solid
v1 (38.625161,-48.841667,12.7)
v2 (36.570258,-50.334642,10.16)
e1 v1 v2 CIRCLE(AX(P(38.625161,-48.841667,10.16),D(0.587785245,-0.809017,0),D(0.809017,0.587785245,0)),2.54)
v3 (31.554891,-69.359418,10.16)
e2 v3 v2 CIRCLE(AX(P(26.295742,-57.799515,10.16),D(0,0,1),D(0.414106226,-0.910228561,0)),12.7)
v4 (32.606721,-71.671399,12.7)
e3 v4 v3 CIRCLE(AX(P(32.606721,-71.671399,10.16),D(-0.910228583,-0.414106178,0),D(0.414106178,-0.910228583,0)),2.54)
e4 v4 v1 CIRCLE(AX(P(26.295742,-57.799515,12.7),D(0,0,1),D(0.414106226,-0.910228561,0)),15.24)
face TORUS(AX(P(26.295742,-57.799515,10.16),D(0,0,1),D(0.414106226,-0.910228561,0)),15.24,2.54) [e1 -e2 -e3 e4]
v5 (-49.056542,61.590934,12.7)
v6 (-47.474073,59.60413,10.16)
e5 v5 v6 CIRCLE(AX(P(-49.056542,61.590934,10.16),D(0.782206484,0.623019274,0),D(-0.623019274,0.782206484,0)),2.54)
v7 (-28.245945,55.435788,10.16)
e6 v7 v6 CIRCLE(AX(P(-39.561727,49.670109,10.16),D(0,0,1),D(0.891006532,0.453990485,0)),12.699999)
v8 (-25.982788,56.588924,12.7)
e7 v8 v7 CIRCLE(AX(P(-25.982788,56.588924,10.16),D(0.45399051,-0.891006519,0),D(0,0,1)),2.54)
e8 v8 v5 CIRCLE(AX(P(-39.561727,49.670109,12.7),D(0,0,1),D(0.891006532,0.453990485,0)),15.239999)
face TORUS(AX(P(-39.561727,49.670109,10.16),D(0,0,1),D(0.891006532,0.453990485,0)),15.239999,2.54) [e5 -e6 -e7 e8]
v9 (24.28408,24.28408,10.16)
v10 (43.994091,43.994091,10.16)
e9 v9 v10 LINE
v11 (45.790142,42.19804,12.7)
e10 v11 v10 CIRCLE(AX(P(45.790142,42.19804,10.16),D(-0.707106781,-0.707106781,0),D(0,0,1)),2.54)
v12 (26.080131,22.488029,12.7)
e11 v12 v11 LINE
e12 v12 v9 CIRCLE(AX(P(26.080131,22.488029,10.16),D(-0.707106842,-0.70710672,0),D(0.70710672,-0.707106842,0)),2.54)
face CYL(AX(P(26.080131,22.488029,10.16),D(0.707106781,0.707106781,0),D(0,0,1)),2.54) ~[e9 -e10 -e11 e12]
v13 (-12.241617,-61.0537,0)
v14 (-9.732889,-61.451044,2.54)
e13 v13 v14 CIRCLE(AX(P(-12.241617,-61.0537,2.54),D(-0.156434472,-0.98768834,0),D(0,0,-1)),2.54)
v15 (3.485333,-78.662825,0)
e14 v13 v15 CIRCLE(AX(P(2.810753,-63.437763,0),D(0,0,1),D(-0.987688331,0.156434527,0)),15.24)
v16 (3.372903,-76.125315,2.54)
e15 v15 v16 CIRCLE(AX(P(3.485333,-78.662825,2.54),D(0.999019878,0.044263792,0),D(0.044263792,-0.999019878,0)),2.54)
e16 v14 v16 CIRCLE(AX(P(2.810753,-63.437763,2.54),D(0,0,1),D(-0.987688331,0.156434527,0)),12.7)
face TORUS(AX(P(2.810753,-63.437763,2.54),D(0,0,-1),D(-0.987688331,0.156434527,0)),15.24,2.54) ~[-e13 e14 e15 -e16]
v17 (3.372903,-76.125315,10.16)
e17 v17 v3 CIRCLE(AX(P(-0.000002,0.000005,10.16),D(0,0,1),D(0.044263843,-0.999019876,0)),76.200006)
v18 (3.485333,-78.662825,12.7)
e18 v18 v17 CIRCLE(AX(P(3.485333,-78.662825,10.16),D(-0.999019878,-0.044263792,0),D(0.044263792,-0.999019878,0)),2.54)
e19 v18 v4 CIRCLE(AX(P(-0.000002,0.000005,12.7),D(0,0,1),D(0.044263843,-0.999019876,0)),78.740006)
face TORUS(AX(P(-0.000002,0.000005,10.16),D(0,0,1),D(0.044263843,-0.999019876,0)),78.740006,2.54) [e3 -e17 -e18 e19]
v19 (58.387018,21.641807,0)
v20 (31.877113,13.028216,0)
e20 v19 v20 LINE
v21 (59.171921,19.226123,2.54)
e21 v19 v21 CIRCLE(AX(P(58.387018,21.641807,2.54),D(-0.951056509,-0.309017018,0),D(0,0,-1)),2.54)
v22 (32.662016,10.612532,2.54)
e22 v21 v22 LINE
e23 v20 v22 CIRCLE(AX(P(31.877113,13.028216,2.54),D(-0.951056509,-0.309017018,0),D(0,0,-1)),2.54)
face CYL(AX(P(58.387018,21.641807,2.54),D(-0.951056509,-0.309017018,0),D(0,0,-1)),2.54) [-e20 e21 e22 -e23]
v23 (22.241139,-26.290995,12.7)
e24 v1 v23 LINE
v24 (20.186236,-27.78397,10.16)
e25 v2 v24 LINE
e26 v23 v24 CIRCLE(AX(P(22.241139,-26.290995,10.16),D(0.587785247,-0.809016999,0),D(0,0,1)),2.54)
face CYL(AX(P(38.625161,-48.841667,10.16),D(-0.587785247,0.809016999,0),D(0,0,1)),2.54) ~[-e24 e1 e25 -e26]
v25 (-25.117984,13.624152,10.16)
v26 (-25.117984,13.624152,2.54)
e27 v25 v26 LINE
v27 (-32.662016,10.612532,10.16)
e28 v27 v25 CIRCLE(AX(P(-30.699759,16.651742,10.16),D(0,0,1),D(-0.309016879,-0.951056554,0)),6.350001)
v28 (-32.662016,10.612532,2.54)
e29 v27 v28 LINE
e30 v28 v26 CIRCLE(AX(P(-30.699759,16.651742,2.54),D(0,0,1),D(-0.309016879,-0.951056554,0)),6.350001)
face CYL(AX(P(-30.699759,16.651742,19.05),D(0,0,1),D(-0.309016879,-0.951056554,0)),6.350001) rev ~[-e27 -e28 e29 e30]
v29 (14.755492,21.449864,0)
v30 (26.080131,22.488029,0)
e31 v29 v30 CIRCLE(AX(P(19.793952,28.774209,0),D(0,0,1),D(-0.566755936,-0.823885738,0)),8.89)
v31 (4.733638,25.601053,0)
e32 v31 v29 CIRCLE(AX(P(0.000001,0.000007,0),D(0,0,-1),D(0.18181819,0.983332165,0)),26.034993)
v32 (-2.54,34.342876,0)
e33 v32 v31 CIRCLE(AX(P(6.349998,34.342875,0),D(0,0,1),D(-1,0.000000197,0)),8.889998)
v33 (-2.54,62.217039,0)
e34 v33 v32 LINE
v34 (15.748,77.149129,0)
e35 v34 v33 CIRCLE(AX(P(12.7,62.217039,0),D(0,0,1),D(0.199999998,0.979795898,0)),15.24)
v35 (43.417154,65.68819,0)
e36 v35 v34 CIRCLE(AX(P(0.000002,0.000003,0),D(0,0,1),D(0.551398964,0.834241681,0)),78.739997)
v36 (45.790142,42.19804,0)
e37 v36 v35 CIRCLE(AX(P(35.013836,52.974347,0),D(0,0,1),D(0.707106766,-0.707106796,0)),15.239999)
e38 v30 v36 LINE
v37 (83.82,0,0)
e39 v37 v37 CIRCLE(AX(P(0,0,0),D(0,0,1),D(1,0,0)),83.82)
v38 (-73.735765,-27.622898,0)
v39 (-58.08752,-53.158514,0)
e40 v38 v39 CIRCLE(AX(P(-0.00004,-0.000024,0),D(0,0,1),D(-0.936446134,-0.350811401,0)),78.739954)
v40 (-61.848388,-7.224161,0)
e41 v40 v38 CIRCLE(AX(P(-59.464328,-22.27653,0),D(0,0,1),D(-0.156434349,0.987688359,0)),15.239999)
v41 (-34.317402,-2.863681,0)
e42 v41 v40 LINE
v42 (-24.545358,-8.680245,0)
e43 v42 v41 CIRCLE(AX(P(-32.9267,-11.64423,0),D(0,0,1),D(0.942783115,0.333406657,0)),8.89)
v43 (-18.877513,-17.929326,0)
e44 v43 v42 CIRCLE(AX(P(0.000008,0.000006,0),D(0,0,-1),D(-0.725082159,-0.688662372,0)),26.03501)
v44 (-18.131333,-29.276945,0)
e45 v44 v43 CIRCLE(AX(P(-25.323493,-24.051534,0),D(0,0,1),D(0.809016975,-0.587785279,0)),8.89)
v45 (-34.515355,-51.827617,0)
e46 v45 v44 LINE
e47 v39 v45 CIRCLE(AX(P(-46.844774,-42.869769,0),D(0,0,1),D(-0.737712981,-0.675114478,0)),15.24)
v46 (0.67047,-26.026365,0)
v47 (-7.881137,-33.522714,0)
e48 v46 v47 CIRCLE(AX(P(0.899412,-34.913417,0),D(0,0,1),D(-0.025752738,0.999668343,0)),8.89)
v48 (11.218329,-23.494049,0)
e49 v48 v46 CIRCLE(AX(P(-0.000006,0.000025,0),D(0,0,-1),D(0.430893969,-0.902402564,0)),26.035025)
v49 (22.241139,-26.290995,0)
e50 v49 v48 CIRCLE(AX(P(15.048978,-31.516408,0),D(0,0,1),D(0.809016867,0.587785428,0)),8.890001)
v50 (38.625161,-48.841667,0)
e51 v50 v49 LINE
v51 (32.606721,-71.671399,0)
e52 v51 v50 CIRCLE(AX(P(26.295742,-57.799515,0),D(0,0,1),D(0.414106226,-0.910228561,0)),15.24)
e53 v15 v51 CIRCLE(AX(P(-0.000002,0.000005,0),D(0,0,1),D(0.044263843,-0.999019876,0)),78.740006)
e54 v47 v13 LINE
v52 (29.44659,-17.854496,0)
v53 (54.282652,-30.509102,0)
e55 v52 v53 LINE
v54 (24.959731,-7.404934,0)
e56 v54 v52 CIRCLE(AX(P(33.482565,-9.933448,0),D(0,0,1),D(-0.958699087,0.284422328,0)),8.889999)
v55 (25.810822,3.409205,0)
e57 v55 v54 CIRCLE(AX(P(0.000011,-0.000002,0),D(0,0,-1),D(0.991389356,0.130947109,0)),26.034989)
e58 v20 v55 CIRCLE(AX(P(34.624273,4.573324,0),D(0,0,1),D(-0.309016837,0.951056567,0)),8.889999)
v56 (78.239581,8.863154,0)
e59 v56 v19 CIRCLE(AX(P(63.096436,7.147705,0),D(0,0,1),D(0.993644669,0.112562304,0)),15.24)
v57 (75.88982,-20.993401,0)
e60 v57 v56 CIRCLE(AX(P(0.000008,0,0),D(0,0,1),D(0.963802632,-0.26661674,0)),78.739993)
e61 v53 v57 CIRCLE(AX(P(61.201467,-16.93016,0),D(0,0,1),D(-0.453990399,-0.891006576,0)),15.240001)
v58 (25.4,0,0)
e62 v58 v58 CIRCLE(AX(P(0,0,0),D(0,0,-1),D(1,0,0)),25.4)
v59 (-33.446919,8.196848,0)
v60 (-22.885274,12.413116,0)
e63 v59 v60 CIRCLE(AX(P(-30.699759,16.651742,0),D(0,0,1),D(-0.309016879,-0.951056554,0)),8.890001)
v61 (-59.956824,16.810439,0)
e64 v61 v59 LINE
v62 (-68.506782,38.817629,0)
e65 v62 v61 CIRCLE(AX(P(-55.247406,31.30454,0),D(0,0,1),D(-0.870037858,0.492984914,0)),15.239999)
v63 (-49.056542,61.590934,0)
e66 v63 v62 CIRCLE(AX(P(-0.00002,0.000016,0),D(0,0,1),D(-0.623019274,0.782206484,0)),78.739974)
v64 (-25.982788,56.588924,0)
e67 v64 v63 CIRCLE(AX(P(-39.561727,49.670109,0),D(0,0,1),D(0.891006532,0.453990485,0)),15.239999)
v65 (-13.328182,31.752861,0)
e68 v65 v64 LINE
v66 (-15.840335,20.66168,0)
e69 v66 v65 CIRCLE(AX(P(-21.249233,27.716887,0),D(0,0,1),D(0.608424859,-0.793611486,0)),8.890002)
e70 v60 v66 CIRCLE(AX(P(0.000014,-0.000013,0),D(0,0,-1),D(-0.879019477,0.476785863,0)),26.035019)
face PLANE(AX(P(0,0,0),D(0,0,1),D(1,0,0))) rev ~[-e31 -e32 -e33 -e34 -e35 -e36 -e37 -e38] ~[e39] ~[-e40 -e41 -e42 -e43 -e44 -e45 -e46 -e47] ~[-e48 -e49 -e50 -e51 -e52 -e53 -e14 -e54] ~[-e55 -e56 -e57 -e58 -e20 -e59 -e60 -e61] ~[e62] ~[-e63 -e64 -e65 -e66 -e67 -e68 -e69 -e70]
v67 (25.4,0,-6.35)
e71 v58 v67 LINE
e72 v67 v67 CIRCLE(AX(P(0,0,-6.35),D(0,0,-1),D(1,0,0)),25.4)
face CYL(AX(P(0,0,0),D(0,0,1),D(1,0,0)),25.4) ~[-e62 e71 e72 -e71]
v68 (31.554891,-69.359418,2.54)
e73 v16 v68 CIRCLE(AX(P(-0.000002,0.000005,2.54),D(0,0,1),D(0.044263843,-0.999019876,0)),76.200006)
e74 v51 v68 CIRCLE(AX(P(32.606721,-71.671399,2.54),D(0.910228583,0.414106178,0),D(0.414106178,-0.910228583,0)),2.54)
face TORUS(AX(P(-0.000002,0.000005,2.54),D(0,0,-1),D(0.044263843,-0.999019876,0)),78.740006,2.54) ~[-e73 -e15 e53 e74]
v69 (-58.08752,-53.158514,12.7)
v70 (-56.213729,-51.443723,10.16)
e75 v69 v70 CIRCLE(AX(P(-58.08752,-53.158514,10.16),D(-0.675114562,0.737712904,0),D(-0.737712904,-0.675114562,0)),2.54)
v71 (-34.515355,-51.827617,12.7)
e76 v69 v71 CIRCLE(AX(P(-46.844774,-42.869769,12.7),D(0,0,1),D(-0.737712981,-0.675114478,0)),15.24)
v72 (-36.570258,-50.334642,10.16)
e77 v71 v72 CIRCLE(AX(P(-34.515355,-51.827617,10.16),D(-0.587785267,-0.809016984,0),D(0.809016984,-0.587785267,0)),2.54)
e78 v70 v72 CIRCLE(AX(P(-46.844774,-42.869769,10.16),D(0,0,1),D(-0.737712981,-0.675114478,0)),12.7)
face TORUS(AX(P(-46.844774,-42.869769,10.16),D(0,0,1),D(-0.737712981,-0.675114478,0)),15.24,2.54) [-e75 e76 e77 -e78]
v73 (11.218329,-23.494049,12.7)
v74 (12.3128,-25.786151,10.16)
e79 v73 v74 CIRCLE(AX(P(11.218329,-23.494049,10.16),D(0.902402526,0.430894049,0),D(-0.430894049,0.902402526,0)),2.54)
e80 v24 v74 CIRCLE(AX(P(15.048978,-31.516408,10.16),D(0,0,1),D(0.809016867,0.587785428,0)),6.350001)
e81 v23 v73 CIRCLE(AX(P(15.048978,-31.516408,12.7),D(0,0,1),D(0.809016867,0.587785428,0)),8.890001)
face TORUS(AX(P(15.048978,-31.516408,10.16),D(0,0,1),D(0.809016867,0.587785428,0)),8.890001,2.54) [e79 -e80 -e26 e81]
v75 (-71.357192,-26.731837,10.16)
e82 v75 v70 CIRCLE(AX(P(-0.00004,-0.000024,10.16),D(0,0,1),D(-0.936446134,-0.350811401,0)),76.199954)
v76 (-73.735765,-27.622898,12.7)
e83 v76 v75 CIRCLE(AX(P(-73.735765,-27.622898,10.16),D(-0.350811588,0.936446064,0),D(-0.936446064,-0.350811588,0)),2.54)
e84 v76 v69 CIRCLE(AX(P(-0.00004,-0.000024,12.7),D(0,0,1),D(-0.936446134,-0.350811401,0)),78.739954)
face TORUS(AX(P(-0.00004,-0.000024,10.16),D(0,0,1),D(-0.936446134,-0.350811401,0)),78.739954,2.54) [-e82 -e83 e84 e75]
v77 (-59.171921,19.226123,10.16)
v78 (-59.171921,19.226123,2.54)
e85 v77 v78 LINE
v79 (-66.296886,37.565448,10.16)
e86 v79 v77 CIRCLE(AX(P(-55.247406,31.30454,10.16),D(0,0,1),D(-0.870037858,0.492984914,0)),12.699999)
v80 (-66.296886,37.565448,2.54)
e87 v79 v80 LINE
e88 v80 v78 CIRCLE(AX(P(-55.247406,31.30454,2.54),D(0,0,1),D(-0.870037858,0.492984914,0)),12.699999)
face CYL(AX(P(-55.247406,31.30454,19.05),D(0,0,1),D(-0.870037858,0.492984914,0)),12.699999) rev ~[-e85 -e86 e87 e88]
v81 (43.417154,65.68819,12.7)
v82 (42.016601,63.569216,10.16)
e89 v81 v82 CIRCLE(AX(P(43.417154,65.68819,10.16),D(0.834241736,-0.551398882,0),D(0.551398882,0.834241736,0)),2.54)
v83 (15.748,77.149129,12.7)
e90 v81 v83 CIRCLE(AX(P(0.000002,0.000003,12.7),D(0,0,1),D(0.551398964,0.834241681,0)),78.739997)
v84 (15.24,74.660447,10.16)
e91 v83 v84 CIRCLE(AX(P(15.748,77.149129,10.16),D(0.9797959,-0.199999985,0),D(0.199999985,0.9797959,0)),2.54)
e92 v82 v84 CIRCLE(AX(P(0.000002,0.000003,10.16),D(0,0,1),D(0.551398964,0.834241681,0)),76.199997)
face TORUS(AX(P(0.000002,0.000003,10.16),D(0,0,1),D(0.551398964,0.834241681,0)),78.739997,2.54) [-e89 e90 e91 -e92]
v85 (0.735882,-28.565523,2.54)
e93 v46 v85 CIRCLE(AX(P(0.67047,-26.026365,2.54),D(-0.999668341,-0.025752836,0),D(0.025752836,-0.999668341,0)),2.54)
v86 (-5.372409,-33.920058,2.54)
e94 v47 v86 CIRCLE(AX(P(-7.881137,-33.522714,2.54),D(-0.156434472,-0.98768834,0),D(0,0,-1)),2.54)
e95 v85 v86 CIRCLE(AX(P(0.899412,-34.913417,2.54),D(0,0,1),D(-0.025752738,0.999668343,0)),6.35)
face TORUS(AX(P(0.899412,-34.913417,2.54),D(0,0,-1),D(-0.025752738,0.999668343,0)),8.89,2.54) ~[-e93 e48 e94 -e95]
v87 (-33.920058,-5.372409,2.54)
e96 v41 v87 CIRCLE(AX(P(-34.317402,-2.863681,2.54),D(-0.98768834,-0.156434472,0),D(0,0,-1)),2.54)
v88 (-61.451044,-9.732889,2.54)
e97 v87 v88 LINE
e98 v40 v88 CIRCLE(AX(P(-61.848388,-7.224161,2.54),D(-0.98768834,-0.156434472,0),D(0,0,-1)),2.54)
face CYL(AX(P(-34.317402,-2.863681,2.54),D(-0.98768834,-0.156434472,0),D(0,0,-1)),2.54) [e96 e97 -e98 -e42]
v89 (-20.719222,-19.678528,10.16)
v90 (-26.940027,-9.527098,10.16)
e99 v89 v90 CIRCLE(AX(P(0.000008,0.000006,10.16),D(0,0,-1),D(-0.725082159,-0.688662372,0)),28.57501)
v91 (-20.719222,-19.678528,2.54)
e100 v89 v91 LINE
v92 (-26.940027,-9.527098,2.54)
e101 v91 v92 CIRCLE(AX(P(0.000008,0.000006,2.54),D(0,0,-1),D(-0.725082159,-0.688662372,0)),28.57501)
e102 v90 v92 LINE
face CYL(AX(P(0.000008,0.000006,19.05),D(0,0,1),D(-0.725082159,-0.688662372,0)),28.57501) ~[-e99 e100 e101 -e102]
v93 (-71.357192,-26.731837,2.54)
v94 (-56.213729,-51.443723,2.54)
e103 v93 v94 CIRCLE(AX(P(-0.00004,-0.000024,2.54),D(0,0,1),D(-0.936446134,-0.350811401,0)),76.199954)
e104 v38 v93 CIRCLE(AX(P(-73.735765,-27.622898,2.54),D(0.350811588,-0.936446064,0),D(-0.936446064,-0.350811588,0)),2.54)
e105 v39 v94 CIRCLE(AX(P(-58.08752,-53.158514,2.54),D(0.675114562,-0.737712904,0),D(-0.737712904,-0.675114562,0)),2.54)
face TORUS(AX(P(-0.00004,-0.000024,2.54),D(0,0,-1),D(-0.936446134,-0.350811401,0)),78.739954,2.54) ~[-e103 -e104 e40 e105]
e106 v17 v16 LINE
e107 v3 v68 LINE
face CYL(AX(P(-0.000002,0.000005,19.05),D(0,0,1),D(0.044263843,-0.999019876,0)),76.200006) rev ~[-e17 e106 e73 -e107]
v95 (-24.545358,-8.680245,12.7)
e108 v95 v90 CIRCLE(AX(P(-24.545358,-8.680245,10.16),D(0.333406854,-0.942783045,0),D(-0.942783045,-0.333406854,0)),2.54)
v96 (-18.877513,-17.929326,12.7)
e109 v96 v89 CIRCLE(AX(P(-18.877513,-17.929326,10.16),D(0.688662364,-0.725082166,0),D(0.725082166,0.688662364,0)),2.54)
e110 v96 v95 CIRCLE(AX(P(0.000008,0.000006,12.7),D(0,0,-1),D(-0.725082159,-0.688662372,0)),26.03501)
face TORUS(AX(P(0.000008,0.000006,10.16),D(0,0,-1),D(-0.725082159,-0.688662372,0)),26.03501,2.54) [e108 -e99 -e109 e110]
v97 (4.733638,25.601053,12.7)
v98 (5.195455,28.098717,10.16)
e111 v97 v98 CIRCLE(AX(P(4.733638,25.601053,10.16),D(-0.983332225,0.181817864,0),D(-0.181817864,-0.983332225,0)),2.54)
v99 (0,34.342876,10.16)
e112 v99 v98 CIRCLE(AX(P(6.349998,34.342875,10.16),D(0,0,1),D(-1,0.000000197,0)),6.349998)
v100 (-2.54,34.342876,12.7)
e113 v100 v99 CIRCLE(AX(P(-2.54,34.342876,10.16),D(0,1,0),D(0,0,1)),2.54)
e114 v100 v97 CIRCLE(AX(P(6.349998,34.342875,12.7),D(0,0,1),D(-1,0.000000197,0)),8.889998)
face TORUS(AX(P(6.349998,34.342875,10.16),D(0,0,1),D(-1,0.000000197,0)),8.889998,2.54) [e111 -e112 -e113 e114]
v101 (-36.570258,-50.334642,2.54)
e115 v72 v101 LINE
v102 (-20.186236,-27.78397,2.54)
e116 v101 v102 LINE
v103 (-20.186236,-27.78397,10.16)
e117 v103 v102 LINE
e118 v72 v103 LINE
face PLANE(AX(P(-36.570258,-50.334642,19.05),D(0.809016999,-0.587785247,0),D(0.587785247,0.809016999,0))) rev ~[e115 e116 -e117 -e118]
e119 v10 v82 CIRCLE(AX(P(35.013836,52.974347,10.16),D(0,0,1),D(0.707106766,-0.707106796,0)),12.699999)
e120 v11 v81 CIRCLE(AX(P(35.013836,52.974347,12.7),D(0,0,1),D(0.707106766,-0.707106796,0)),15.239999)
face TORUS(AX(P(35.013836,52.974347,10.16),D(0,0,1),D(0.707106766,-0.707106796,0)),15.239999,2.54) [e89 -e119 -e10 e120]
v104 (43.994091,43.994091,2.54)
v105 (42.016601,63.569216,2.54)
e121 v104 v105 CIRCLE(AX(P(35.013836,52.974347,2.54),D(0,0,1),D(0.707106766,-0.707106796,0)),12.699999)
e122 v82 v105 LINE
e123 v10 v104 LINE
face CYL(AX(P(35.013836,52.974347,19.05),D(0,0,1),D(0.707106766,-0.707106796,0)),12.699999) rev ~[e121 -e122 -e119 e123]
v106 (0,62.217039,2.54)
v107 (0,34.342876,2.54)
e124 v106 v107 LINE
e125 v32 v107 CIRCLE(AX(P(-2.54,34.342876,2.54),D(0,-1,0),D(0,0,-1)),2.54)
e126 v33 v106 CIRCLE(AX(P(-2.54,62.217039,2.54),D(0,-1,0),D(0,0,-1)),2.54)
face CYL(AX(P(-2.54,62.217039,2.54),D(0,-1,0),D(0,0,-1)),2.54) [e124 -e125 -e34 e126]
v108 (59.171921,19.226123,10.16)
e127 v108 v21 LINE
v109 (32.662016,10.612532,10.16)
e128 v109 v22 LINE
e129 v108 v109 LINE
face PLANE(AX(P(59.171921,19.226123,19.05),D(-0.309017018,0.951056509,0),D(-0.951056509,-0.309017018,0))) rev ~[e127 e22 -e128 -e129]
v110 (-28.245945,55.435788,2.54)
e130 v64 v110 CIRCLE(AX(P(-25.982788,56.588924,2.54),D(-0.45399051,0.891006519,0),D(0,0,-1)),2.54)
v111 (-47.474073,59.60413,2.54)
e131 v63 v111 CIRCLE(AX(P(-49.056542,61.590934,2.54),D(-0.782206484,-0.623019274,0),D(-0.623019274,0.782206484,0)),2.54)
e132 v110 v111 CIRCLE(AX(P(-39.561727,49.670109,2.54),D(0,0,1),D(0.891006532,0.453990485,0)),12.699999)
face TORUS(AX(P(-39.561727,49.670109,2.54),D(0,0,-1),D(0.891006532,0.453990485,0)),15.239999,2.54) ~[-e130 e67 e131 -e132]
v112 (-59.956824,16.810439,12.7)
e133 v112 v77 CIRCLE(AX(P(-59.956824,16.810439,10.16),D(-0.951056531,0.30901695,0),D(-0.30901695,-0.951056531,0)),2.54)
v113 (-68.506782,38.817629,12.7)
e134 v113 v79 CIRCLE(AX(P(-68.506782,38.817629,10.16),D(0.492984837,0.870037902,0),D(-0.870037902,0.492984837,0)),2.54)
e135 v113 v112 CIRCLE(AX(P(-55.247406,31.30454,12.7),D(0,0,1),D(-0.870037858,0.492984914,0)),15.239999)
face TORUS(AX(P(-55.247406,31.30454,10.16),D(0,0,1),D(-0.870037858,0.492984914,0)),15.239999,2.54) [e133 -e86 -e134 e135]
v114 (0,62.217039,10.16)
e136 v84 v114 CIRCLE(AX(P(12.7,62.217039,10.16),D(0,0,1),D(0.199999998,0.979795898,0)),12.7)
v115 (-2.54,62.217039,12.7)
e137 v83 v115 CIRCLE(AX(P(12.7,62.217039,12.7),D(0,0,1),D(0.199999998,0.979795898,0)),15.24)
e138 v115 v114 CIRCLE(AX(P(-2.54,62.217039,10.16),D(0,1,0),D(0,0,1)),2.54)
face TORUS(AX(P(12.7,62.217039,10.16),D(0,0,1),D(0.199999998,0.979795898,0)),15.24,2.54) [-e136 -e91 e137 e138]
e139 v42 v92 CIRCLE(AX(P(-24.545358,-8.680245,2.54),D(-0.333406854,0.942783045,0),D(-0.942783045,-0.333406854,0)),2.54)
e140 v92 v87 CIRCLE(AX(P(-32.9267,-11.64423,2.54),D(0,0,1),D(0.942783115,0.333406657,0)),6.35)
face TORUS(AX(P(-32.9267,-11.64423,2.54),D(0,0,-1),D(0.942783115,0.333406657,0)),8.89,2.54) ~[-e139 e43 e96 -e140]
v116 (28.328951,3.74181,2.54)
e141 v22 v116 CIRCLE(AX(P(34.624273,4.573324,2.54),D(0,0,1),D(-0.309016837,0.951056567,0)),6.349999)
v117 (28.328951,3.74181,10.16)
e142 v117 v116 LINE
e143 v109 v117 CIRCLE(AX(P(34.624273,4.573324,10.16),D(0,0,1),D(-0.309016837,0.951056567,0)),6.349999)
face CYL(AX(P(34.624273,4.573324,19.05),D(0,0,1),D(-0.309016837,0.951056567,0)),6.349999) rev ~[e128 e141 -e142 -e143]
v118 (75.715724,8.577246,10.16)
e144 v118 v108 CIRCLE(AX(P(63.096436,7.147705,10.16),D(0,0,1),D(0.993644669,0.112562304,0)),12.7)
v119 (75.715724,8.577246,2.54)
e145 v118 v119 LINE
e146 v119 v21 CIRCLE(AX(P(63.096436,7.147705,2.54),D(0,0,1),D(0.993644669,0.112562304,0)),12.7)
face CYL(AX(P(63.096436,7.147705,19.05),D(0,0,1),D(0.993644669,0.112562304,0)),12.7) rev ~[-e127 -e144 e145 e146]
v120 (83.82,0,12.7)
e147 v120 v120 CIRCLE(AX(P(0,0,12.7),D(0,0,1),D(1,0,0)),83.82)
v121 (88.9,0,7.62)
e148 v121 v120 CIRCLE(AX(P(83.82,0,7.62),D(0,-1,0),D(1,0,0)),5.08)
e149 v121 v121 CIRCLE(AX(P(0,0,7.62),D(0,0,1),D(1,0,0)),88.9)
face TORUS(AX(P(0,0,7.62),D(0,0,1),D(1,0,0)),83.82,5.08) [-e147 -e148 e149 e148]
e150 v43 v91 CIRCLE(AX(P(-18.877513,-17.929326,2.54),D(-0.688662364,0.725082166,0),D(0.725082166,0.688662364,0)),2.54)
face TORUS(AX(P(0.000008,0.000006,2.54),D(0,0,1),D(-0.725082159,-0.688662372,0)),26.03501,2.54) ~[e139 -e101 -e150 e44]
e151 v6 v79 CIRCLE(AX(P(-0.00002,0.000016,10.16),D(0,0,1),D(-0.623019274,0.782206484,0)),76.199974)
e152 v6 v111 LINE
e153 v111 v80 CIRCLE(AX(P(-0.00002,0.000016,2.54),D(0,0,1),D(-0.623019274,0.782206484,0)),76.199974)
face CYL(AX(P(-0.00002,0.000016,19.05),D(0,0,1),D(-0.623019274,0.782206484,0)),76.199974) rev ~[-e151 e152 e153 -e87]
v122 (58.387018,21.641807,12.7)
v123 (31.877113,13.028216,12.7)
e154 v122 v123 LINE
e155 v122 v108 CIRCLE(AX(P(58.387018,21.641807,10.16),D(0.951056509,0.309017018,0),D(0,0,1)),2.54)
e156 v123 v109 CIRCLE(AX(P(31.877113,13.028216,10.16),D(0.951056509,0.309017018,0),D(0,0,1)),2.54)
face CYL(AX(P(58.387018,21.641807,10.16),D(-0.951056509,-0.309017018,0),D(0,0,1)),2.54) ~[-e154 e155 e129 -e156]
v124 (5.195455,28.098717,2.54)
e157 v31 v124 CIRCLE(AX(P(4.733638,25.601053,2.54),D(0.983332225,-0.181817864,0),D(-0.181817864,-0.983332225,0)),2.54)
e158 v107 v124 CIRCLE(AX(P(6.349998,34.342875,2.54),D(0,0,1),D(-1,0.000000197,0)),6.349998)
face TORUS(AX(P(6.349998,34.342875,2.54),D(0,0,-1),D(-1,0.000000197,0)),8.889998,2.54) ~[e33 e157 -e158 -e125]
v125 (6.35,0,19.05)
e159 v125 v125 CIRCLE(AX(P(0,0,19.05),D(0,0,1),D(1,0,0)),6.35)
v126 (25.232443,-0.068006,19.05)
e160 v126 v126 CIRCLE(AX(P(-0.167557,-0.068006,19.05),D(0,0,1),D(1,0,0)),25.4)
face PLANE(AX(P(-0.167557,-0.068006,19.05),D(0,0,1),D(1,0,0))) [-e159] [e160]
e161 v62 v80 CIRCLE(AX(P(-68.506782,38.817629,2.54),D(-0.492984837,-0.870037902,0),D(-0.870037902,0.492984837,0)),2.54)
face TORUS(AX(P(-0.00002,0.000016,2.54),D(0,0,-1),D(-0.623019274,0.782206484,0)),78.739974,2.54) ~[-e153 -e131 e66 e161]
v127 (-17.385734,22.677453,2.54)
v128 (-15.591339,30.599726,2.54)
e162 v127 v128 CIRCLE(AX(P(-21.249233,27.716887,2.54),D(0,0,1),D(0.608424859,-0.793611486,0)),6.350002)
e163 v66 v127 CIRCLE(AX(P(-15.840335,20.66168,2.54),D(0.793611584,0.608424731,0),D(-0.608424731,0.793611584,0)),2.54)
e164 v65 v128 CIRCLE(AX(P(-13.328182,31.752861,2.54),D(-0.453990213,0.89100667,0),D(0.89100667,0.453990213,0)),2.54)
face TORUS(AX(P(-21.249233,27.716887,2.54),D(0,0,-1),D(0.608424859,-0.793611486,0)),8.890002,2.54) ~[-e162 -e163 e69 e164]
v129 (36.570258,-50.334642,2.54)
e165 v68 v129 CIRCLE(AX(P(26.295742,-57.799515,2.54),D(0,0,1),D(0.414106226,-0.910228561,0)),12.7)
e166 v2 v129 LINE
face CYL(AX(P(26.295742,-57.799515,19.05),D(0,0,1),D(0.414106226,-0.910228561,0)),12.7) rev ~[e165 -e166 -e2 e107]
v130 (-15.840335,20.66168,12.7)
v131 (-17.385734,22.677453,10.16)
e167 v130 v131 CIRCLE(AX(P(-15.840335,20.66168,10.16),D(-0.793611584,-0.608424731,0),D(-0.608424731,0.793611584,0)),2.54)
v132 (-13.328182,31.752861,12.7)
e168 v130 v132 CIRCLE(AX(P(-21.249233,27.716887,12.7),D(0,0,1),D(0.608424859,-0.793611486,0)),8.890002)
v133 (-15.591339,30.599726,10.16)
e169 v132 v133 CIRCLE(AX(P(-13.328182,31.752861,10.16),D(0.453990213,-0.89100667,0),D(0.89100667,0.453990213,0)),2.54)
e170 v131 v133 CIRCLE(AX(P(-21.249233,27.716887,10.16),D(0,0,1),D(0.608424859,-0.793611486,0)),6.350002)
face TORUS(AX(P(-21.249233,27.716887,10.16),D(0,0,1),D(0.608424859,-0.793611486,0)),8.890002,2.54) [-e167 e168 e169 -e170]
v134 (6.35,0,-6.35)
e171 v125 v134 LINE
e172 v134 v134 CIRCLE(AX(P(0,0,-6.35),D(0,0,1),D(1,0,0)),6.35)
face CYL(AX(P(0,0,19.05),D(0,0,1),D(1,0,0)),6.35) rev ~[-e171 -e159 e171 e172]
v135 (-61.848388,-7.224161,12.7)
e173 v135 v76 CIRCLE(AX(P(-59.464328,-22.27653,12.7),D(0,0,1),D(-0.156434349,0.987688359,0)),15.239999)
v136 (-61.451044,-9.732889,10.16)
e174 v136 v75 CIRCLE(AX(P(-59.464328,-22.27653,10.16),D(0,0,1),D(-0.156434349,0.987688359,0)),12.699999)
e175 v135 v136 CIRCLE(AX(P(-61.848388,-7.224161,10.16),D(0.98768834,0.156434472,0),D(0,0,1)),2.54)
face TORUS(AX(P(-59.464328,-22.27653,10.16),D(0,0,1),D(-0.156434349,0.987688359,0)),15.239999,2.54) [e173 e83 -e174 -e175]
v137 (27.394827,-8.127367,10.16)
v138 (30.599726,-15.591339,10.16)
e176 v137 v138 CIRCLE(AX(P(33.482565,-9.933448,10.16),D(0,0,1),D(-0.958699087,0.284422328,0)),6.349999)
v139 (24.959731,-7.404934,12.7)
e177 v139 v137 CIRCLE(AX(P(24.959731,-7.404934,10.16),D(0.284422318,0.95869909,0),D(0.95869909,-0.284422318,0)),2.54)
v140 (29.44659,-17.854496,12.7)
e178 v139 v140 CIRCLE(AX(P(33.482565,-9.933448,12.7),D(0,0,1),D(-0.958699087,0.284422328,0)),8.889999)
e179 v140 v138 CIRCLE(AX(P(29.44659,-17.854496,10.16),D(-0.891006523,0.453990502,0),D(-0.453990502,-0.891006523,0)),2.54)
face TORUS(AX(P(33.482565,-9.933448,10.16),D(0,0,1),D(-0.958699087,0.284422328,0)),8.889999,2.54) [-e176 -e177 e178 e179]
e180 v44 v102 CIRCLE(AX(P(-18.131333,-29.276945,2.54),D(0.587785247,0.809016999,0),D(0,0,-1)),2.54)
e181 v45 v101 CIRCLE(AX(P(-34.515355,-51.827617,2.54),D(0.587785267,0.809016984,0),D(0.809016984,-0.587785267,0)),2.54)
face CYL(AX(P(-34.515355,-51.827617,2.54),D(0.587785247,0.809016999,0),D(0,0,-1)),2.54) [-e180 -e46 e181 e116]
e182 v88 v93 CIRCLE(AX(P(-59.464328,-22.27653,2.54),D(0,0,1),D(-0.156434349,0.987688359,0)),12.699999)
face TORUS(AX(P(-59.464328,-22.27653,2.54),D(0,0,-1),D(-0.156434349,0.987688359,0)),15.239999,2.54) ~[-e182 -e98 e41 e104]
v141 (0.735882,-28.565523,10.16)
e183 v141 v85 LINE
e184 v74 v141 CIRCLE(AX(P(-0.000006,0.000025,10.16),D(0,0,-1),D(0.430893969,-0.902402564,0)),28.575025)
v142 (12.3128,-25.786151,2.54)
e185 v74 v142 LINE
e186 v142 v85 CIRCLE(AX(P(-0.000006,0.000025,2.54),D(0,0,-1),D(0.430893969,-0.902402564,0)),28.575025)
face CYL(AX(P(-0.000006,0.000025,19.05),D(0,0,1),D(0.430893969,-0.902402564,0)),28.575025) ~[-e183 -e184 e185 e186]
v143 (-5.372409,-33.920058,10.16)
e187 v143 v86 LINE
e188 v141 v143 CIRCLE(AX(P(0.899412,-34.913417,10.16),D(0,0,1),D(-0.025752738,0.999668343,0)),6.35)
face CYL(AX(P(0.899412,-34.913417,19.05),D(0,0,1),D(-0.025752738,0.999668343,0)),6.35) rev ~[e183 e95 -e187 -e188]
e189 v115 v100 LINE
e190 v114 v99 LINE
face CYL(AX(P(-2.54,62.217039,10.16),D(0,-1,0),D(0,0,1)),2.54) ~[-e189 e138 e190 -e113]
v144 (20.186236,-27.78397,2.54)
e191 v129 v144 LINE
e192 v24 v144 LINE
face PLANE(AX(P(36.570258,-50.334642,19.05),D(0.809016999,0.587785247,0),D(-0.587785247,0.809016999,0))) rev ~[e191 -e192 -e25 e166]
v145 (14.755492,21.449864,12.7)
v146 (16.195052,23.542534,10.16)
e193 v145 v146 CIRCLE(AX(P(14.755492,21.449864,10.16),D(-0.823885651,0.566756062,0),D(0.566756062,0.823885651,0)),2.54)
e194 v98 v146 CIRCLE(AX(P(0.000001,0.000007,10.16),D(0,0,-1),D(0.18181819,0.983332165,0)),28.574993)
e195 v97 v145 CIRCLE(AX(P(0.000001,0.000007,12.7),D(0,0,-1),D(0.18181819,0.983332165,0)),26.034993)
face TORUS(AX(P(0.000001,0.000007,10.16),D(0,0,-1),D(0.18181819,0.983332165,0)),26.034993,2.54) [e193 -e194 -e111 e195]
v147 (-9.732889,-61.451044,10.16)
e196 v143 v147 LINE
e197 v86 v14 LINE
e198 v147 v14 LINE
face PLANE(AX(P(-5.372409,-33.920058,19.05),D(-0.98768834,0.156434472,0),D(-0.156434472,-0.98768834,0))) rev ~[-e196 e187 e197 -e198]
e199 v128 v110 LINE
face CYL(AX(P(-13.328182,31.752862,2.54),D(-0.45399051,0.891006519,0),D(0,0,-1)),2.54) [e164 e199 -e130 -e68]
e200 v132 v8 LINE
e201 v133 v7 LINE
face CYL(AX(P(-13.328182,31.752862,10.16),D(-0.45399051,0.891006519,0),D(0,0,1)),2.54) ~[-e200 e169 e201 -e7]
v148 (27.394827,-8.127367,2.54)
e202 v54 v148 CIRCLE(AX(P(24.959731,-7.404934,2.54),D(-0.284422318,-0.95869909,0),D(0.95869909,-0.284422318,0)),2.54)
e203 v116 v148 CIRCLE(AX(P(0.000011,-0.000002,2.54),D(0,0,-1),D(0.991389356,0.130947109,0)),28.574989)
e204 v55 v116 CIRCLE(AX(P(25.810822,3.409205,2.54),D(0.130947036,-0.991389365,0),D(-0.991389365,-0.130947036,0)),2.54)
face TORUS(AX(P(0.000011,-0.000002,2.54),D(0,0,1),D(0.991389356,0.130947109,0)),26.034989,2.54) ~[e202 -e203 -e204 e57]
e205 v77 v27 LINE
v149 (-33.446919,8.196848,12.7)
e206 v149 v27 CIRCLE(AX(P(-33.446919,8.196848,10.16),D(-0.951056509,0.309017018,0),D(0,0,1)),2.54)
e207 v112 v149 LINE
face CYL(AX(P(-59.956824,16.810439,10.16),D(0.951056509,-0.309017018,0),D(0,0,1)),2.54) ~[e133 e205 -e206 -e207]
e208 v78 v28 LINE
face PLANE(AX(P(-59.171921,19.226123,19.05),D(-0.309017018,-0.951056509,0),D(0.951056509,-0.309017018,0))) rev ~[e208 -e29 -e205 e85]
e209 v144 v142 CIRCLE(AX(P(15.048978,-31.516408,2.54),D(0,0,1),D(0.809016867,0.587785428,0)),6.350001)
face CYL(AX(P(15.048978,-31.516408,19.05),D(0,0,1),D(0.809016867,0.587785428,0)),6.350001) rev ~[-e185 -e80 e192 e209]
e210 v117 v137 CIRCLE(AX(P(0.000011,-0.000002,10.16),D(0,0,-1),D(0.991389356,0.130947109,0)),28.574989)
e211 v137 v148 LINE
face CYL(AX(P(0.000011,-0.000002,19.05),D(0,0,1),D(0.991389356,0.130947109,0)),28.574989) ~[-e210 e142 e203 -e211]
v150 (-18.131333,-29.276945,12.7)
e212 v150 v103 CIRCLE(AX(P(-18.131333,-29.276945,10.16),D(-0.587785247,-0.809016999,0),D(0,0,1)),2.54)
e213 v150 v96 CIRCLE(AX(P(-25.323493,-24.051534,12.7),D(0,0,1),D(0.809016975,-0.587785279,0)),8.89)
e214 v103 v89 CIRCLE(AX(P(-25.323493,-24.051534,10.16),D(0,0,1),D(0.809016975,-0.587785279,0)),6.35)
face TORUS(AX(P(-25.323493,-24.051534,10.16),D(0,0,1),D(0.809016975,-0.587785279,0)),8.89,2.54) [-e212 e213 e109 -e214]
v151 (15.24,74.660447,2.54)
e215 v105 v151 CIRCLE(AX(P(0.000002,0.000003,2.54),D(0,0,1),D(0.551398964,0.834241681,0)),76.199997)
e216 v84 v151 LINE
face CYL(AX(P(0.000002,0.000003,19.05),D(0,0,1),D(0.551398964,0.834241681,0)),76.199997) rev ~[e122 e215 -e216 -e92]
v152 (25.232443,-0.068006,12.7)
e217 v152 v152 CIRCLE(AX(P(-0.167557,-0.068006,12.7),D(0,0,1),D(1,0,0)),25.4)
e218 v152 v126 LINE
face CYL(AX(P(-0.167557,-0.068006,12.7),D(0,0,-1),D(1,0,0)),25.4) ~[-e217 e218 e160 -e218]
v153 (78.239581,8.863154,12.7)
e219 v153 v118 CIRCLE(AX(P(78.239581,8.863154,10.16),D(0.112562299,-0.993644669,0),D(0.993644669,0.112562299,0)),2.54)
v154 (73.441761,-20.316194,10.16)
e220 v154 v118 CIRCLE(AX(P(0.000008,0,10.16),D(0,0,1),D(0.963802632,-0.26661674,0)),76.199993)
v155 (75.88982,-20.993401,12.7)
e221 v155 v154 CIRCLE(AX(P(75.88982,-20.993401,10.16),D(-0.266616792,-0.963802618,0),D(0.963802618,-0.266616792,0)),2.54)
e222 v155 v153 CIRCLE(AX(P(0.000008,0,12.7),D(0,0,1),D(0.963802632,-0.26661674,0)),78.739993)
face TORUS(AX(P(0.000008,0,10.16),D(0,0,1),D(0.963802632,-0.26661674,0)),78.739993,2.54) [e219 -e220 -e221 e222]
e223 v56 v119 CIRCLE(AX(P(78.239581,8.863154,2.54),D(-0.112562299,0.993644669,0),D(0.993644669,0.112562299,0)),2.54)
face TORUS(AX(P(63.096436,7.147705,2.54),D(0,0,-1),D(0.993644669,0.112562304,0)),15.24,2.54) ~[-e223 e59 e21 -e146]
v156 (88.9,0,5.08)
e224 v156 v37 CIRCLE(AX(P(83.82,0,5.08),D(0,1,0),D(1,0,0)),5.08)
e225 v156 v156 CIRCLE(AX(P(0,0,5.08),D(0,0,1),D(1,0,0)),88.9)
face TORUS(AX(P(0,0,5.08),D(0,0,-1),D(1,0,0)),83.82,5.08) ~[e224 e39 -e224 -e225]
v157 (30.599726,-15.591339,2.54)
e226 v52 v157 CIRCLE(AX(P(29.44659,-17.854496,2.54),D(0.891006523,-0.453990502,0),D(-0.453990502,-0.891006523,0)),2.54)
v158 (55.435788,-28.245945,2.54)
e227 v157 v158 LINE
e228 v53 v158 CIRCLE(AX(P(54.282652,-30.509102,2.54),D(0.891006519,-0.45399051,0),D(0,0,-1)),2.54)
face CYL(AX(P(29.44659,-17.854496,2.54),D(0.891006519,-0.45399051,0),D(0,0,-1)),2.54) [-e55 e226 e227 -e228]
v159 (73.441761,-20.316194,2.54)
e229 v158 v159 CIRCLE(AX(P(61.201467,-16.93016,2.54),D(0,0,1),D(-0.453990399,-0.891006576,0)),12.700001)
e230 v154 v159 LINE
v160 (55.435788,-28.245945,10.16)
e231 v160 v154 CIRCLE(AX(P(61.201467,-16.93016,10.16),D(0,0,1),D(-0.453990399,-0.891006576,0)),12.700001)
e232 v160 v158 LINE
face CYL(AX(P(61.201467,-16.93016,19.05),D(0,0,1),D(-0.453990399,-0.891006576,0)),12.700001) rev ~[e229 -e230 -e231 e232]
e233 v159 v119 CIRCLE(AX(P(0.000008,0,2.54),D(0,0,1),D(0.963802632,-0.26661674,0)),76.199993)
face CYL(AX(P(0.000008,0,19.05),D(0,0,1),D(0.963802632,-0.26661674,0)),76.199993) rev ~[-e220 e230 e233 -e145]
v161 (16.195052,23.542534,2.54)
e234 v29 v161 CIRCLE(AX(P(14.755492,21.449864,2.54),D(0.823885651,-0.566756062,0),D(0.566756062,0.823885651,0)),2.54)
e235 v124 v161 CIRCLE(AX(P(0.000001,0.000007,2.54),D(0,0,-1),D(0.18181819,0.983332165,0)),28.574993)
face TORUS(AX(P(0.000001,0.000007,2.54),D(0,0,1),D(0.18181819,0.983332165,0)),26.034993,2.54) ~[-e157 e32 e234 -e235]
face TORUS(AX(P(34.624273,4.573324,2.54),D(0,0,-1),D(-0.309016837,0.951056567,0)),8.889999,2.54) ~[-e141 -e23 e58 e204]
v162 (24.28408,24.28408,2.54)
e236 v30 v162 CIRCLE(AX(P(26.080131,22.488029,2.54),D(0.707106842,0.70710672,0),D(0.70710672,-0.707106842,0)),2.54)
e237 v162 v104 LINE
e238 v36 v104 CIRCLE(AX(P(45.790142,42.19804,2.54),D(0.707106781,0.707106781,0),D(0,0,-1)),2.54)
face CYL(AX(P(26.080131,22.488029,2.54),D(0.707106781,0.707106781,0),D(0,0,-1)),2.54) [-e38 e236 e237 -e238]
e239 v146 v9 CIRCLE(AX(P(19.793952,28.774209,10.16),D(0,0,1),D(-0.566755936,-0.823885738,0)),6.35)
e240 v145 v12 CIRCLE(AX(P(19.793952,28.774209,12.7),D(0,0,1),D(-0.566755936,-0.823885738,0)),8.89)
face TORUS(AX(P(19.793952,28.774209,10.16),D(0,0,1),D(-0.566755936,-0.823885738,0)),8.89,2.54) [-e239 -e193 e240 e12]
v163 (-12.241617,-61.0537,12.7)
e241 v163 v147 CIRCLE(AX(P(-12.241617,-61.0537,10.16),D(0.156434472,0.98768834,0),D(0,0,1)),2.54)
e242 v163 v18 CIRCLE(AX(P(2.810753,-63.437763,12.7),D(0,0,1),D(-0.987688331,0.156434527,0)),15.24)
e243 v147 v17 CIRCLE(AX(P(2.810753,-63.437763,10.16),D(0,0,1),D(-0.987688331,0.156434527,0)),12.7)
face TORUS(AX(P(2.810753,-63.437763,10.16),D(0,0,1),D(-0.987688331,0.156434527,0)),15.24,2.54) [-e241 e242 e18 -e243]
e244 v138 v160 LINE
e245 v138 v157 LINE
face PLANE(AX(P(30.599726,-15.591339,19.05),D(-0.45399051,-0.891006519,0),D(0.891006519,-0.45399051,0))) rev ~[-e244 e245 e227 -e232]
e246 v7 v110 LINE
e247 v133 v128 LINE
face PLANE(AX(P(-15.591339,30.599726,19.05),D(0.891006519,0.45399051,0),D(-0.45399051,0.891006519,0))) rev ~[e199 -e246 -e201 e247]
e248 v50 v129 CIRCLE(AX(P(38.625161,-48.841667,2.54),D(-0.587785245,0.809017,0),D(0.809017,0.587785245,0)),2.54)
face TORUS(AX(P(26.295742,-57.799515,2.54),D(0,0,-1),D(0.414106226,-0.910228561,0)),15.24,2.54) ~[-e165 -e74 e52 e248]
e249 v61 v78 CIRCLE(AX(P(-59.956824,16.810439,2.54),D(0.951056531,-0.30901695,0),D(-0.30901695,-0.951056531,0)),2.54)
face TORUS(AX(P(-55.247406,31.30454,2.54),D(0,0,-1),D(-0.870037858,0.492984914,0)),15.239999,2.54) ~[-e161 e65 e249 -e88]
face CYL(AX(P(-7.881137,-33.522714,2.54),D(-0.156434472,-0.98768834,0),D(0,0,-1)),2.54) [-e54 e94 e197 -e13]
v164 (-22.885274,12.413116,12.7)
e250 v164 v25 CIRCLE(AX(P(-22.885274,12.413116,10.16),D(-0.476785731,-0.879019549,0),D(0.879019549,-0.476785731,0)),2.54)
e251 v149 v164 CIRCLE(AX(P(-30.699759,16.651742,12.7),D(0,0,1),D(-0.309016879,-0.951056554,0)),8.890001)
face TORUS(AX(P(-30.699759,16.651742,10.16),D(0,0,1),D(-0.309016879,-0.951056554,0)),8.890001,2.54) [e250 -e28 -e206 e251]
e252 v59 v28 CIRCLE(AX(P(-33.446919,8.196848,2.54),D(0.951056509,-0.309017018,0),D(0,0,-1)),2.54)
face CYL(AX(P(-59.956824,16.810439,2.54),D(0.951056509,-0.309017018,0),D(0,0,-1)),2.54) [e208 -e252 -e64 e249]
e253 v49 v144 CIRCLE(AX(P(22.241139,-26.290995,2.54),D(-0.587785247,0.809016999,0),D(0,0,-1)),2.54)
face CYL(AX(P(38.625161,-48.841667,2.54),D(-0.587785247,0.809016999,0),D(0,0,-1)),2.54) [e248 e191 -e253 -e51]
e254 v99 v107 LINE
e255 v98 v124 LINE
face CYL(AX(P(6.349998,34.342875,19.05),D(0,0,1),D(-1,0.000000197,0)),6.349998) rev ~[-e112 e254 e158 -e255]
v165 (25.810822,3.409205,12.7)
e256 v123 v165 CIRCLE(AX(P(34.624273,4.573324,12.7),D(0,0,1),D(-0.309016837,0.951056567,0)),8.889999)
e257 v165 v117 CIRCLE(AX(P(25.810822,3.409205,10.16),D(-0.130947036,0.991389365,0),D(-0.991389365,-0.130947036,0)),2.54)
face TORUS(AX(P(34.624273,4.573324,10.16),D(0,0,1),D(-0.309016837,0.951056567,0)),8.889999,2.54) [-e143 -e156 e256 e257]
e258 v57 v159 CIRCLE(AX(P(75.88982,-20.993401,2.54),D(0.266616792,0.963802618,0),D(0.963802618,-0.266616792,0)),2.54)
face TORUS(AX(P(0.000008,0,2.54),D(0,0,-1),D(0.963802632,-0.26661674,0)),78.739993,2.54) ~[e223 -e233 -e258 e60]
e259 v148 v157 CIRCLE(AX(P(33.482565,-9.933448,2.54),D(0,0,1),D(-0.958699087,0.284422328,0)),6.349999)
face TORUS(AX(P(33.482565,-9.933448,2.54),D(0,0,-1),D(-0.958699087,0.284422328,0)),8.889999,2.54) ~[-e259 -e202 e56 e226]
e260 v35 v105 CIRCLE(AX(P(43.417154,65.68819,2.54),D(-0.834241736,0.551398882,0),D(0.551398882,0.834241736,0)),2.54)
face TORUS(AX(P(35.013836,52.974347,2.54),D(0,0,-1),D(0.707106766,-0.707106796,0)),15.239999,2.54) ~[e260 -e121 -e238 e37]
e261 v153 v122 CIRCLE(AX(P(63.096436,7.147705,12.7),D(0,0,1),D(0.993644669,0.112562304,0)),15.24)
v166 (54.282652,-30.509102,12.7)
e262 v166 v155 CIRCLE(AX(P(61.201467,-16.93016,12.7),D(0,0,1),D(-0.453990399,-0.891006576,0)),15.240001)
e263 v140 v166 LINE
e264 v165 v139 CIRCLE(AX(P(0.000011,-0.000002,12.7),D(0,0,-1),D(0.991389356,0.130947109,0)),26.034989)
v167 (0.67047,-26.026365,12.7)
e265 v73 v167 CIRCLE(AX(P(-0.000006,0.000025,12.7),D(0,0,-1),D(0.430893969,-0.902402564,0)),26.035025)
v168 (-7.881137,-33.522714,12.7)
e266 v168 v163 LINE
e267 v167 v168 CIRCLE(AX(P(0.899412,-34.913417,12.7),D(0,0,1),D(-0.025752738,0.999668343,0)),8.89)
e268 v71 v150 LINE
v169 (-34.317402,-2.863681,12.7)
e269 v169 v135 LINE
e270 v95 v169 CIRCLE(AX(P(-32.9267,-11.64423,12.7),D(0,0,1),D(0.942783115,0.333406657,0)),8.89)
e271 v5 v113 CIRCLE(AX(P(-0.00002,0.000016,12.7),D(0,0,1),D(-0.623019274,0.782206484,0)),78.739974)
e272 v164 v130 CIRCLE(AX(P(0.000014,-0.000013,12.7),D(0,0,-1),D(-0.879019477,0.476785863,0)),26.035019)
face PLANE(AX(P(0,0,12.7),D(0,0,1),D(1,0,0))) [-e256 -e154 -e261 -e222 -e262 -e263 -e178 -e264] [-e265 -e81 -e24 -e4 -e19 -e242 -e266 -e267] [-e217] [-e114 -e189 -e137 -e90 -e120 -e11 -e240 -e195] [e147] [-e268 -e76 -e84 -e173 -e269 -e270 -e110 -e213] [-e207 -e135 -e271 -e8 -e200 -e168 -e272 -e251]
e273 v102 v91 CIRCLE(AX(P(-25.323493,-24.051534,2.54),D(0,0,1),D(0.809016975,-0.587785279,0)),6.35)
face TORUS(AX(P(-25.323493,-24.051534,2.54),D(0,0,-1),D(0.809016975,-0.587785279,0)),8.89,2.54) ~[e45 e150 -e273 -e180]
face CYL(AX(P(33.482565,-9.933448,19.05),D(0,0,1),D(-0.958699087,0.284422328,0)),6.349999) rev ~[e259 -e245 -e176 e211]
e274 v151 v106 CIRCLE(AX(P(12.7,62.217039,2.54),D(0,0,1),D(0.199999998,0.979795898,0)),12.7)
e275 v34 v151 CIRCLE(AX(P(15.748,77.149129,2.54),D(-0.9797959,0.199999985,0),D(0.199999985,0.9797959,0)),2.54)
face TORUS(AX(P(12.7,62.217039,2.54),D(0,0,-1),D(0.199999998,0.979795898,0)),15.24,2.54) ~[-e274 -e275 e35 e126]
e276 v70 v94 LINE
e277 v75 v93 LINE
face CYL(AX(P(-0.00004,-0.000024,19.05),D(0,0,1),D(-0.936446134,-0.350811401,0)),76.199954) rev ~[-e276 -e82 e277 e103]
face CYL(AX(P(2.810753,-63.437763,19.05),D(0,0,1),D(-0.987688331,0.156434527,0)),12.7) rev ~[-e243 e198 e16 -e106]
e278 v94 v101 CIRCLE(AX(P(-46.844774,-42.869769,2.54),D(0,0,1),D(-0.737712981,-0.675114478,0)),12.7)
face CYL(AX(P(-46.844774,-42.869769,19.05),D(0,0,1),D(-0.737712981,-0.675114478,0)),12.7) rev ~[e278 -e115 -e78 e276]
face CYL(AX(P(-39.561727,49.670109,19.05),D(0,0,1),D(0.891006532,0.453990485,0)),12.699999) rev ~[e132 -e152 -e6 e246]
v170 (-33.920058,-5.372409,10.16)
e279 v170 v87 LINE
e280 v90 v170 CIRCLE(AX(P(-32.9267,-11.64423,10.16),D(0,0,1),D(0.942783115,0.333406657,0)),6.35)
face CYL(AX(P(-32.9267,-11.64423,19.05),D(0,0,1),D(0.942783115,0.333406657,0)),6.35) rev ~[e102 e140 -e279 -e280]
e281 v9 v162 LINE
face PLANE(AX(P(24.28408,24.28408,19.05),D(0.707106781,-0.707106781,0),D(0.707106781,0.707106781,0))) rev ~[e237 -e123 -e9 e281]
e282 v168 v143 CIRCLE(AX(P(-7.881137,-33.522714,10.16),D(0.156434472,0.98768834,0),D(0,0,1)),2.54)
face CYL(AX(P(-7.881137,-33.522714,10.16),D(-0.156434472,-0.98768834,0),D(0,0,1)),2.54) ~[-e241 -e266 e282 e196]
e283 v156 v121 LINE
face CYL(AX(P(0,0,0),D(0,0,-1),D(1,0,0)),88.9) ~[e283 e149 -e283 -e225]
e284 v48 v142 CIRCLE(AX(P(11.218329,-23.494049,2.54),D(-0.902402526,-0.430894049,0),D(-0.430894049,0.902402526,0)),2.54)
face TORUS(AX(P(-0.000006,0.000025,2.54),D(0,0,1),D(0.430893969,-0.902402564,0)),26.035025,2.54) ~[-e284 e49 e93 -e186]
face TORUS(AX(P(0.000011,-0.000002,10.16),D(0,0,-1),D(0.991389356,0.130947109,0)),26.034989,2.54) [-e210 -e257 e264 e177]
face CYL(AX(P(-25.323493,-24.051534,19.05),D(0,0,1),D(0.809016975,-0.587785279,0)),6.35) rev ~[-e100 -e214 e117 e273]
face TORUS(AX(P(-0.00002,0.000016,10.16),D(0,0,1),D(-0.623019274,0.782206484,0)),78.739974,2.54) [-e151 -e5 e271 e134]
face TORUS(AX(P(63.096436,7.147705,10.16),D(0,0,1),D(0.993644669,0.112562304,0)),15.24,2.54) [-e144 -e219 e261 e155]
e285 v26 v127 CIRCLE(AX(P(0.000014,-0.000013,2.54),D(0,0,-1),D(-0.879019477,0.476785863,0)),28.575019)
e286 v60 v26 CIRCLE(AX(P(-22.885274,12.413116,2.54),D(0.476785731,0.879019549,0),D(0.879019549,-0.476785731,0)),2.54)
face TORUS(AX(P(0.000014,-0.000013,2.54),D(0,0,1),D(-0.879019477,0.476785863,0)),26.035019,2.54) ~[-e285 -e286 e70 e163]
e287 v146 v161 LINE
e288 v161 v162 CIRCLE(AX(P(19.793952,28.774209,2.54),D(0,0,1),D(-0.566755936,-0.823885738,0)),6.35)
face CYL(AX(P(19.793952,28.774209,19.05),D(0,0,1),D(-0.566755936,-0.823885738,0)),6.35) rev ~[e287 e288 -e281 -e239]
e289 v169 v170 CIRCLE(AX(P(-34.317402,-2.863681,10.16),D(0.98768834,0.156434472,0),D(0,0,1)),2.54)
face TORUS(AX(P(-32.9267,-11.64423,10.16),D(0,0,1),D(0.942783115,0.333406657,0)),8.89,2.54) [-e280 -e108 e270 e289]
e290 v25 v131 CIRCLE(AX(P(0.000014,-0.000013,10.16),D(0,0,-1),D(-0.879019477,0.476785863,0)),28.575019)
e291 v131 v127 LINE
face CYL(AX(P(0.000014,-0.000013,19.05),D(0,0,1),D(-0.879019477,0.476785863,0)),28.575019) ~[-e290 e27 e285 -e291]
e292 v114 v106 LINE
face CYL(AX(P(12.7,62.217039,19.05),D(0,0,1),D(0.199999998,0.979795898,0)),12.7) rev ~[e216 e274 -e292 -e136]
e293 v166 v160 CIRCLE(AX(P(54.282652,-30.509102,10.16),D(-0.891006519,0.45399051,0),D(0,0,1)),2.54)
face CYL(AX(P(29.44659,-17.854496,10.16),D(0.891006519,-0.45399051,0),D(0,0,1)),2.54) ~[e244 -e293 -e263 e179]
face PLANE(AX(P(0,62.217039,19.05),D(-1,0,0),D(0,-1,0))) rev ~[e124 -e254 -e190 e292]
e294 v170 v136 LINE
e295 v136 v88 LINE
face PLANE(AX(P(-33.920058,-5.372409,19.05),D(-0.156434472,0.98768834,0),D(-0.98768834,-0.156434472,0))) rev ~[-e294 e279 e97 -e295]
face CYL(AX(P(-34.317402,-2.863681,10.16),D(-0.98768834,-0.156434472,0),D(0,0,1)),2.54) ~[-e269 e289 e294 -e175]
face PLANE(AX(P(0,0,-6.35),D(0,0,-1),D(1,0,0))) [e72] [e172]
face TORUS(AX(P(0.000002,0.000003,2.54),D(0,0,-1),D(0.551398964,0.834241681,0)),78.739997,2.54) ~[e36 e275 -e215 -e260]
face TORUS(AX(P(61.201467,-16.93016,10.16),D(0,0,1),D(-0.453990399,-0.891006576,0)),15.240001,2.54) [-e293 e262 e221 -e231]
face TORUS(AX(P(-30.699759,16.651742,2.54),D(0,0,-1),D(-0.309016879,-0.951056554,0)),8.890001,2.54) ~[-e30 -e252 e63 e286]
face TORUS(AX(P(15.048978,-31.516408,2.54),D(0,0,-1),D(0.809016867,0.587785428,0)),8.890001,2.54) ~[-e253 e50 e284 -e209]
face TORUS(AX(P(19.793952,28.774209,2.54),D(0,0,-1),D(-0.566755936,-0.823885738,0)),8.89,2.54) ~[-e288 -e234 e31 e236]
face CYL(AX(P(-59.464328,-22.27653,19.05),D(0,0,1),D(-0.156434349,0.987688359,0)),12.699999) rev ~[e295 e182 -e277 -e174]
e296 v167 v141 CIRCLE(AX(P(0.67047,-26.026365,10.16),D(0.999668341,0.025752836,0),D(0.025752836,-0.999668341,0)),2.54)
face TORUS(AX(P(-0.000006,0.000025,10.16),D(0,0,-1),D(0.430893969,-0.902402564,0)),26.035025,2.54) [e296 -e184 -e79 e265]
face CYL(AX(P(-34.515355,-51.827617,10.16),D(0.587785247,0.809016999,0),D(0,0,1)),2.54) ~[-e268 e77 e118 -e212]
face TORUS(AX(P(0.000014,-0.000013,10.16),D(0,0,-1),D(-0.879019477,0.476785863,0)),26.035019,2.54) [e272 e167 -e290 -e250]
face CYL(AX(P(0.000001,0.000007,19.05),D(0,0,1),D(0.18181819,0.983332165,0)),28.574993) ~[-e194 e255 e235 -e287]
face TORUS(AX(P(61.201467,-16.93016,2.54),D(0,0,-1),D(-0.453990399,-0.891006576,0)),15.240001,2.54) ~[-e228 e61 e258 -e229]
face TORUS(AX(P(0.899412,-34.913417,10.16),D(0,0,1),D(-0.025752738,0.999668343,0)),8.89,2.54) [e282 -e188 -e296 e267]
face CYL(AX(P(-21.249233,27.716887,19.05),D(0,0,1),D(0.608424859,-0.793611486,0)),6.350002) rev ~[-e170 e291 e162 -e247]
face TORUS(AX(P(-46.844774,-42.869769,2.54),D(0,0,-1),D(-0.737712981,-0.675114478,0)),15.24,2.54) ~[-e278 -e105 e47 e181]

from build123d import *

# Parameters (mm, degrees)
F0_R     = 88.9
F1_DEPTH = 12.7
F2_R     = 25.4
F3_DEPTH = 6.35
F4_R     = 25.4
F5_DEPTH = 6.35
F7_DEPTH = 25.401
F8_R     = 6.35
F9_DEPTH = 25.401
F10_R    = 5.08
F11_R    = 2.54


with BuildPart() as f1:
    # F0 (on Top) → F1 (new body)
    with BuildSketch(Plane.XY):
        Circle(F0_R)
    extrude(amount=F1_DEPTH)

    # F2 (on face) → F3 (join)
    with BuildSketch(Plane.XY.offset(12.7)):
        with Locations((-0.167557, -0.068006)):
            Circle(F2_R)
    extrude(amount=F3_DEPTH)

    # F4 (on face) → F5 (join)
    with BuildSketch(Plane(origin=(0, 0, 0), x_dir=(1, 0, 0), z_dir=(0, 0, -1))):
        Circle(F4_R)
    extrude(amount=F5_DEPTH)

    # F6 (on face) → F7 (cut, through all)
    with BuildSketch(Plane.XY.offset(19.05)):
        with BuildLine():
            ThreePointArc((5.195455, 28.098717), (10.935179, 26.399858), (16.195052, 23.542534))
            ThreePointArc((16.195052, 23.542534), (20.373646, 22.450724), (24.28408, 24.28408))
            Line((24.28408, 24.28408), (43.994091, 43.994091))
            ThreePointArc((43.994091, 43.994091), (47.649524, 54.25081), (42.016601, 63.569216))
            ThreePointArc((42.016601, 63.569216), (29.160478, 70.39962), (15.24, 74.660447))
            ThreePointArc((15.24, 74.660447), (4.667815, 72.054417), (0, 62.217039))
            Line((0, 62.217039), (0, 34.342876))
            ThreePointArc((0, 34.342876), (1.468716, 30.281402), (5.195455, 28.098717))
        make_face()
        with BuildLine():
            ThreePointArc((-17.385734, 22.677453), (-15.056105, 26.314144), (-15.591339, 30.599726))
            Line((-15.591339, 30.599726), (-28.245945, 55.435788))
            ThreePointArc((-28.245945, 55.435788), (-36.871074, 62.081812), (-47.474073, 59.60413))
            ThreePointArc((-47.474073, 59.60413), (-57.942935, 49.487941), (-66.296886, 37.565448))
            ThreePointArc((-66.296886, 37.565448), (-67.085389, 26.705395), (-59.171921, 19.226123))
            Line((-59.171921, 19.226123), (-32.662016, 10.612532))
            ThreePointArc((-32.662016, 10.612532), (-28.345467, 10.7543), (-25.117984, 13.624152))
            ThreePointArc((-25.117984, 13.624152), (-21.7286, 18.557978), (-17.385734, 22.677453))
        make_face()
        with BuildLine():
            ThreePointArc((-26.940027, -9.527098), (-29.67883, -6.187689), (-33.920058, -5.372409))
            Line((-33.920058, -5.372409), (-61.451044, -9.732889))
            ThreePointArc((-61.451044, -9.732889), (-70.437101, -15.88214), (-71.357192, -26.731837))
            ThreePointArc((-71.357192, -26.731837), (-64.971181, -39.814391), (-56.213729, -51.443723))
            ThreePointArc((-56.213729, -51.443723), (-46.128865, -55.549575), (-36.570258, -50.334642))
            Line((-36.570258, -50.334642), (-20.186236, -27.78397))
            ThreePointArc((-20.186236, -27.78397), (-18.987178, -23.634879), (-20.719222, -19.678528))
            ThreePointArc((-20.719222, -19.678528), (-24.364193, -14.930396), (-26.940027, -9.527098))
        make_face()
        with BuildLine():
            ThreePointArc((0.735882, -28.565523), (-3.286421, -30.138346), (-5.372409, -33.920058))
            Line((-5.372409, -33.920058), (-9.732889, -61.451044))
            ThreePointArc((-9.732889, -61.451044), (-6.661448, -71.897515), (3.372903, -76.125315))
            ThreePointArc((3.372903, -76.125315), (17.788537, -74.094588), (31.554891, -69.359418))
            ThreePointArc((31.554891, -69.359418), (38.576182, -61.036921), (36.570258, -50.334642))
            Line((36.570258, -50.334642), (20.186236, -27.78397))
            ThreePointArc((20.186236, -27.78397), (16.610745, -25.361459), (12.3128, -25.786151))
            ThreePointArc((12.3128, -25.786151), (6.670701, -27.78547), (0.735882, -28.565523))
        make_face()
        with BuildLine():
            ThreePointArc((27.394827, -8.127367), (27.64771, -12.438833), (30.599726, -15.591339))
            Line((30.599726, -15.591339), (55.435788, -28.245945))
            ThreePointArc((55.435788, -28.245945), (66.320099, -28.552967), (73.441761, -20.316194))
            ThreePointArc((73.441761, -20.316194), (75.965101, -5.978583), (75.715724, 8.577246))
            ThreePointArc((75.715724, 8.577246), (69.970257, 17.826684), (59.171921, 19.226123))
            Line((59.171921, 19.226123), (32.662016, 10.612532))
            ThreePointArc((32.662016, 10.612532), (29.253183, 7.960636), (28.328951, 3.74181))
            ThreePointArc((28.328951, 3.74181), (28.486913, -2.241969), (27.394827, -8.127367))
        make_face()
    extrude(amount=-F7_DEPTH, mode=Mode.SUBTRACT)

    # F8 (on face) → F9 (cut, through all)
    with BuildSketch(Plane.XY.offset(19.05)):
        Circle(F8_R)
    extrude(amount=-F9_DEPTH, mode=Mode.SUBTRACT)

    # F10
    f10_edges = [f1.edges().sort_by_distance(p)[0] for p in [
        (88.9, 0, 6.35),
        (-88.9, 0, 0),
        (-88.9, 0, 12.7),
    ]]
    fillet(f10_edges, radius=F10_R)

    # F11
    f11_edges = [f1.edges().sort_by_distance(p)[0] for p in [
        (45.916968, 14.919327, 12.7),
        (32.662016, 10.612532, 6.35),
        (45.916968, 14.919327, 0),
        (59.171921, 19.226123, 6.35),
        (0, 48.279958, 12.7),
        (0, 34.342876, 6.35),
        (0, 48.279958, 0),
        (0, 62.217039, 6.35),
        (-57.942935, 49.487941, 12.7),
        (-66.296886, 37.565448, 6.35),
        (-57.942935, 49.487941, 0),
        (-47.474073, 59.60413, 6.35),
        (-47.685551, -7.552649, 12.7),
        (-61.451044, -9.732889, 6.35),
        (-47.685551, -7.552649, 0),
        (-33.920058, -5.372409, 6.35),
        (-7.552649, -47.685551, 12.7),
        (-9.732889, -61.451044, 6.35),
        (-7.552649, -47.685551, 0),
        (-5.372409, -33.920058, 6.35),
    ]]
    fillet(f11_edges, radius=F11_R)


solid = f1.part
